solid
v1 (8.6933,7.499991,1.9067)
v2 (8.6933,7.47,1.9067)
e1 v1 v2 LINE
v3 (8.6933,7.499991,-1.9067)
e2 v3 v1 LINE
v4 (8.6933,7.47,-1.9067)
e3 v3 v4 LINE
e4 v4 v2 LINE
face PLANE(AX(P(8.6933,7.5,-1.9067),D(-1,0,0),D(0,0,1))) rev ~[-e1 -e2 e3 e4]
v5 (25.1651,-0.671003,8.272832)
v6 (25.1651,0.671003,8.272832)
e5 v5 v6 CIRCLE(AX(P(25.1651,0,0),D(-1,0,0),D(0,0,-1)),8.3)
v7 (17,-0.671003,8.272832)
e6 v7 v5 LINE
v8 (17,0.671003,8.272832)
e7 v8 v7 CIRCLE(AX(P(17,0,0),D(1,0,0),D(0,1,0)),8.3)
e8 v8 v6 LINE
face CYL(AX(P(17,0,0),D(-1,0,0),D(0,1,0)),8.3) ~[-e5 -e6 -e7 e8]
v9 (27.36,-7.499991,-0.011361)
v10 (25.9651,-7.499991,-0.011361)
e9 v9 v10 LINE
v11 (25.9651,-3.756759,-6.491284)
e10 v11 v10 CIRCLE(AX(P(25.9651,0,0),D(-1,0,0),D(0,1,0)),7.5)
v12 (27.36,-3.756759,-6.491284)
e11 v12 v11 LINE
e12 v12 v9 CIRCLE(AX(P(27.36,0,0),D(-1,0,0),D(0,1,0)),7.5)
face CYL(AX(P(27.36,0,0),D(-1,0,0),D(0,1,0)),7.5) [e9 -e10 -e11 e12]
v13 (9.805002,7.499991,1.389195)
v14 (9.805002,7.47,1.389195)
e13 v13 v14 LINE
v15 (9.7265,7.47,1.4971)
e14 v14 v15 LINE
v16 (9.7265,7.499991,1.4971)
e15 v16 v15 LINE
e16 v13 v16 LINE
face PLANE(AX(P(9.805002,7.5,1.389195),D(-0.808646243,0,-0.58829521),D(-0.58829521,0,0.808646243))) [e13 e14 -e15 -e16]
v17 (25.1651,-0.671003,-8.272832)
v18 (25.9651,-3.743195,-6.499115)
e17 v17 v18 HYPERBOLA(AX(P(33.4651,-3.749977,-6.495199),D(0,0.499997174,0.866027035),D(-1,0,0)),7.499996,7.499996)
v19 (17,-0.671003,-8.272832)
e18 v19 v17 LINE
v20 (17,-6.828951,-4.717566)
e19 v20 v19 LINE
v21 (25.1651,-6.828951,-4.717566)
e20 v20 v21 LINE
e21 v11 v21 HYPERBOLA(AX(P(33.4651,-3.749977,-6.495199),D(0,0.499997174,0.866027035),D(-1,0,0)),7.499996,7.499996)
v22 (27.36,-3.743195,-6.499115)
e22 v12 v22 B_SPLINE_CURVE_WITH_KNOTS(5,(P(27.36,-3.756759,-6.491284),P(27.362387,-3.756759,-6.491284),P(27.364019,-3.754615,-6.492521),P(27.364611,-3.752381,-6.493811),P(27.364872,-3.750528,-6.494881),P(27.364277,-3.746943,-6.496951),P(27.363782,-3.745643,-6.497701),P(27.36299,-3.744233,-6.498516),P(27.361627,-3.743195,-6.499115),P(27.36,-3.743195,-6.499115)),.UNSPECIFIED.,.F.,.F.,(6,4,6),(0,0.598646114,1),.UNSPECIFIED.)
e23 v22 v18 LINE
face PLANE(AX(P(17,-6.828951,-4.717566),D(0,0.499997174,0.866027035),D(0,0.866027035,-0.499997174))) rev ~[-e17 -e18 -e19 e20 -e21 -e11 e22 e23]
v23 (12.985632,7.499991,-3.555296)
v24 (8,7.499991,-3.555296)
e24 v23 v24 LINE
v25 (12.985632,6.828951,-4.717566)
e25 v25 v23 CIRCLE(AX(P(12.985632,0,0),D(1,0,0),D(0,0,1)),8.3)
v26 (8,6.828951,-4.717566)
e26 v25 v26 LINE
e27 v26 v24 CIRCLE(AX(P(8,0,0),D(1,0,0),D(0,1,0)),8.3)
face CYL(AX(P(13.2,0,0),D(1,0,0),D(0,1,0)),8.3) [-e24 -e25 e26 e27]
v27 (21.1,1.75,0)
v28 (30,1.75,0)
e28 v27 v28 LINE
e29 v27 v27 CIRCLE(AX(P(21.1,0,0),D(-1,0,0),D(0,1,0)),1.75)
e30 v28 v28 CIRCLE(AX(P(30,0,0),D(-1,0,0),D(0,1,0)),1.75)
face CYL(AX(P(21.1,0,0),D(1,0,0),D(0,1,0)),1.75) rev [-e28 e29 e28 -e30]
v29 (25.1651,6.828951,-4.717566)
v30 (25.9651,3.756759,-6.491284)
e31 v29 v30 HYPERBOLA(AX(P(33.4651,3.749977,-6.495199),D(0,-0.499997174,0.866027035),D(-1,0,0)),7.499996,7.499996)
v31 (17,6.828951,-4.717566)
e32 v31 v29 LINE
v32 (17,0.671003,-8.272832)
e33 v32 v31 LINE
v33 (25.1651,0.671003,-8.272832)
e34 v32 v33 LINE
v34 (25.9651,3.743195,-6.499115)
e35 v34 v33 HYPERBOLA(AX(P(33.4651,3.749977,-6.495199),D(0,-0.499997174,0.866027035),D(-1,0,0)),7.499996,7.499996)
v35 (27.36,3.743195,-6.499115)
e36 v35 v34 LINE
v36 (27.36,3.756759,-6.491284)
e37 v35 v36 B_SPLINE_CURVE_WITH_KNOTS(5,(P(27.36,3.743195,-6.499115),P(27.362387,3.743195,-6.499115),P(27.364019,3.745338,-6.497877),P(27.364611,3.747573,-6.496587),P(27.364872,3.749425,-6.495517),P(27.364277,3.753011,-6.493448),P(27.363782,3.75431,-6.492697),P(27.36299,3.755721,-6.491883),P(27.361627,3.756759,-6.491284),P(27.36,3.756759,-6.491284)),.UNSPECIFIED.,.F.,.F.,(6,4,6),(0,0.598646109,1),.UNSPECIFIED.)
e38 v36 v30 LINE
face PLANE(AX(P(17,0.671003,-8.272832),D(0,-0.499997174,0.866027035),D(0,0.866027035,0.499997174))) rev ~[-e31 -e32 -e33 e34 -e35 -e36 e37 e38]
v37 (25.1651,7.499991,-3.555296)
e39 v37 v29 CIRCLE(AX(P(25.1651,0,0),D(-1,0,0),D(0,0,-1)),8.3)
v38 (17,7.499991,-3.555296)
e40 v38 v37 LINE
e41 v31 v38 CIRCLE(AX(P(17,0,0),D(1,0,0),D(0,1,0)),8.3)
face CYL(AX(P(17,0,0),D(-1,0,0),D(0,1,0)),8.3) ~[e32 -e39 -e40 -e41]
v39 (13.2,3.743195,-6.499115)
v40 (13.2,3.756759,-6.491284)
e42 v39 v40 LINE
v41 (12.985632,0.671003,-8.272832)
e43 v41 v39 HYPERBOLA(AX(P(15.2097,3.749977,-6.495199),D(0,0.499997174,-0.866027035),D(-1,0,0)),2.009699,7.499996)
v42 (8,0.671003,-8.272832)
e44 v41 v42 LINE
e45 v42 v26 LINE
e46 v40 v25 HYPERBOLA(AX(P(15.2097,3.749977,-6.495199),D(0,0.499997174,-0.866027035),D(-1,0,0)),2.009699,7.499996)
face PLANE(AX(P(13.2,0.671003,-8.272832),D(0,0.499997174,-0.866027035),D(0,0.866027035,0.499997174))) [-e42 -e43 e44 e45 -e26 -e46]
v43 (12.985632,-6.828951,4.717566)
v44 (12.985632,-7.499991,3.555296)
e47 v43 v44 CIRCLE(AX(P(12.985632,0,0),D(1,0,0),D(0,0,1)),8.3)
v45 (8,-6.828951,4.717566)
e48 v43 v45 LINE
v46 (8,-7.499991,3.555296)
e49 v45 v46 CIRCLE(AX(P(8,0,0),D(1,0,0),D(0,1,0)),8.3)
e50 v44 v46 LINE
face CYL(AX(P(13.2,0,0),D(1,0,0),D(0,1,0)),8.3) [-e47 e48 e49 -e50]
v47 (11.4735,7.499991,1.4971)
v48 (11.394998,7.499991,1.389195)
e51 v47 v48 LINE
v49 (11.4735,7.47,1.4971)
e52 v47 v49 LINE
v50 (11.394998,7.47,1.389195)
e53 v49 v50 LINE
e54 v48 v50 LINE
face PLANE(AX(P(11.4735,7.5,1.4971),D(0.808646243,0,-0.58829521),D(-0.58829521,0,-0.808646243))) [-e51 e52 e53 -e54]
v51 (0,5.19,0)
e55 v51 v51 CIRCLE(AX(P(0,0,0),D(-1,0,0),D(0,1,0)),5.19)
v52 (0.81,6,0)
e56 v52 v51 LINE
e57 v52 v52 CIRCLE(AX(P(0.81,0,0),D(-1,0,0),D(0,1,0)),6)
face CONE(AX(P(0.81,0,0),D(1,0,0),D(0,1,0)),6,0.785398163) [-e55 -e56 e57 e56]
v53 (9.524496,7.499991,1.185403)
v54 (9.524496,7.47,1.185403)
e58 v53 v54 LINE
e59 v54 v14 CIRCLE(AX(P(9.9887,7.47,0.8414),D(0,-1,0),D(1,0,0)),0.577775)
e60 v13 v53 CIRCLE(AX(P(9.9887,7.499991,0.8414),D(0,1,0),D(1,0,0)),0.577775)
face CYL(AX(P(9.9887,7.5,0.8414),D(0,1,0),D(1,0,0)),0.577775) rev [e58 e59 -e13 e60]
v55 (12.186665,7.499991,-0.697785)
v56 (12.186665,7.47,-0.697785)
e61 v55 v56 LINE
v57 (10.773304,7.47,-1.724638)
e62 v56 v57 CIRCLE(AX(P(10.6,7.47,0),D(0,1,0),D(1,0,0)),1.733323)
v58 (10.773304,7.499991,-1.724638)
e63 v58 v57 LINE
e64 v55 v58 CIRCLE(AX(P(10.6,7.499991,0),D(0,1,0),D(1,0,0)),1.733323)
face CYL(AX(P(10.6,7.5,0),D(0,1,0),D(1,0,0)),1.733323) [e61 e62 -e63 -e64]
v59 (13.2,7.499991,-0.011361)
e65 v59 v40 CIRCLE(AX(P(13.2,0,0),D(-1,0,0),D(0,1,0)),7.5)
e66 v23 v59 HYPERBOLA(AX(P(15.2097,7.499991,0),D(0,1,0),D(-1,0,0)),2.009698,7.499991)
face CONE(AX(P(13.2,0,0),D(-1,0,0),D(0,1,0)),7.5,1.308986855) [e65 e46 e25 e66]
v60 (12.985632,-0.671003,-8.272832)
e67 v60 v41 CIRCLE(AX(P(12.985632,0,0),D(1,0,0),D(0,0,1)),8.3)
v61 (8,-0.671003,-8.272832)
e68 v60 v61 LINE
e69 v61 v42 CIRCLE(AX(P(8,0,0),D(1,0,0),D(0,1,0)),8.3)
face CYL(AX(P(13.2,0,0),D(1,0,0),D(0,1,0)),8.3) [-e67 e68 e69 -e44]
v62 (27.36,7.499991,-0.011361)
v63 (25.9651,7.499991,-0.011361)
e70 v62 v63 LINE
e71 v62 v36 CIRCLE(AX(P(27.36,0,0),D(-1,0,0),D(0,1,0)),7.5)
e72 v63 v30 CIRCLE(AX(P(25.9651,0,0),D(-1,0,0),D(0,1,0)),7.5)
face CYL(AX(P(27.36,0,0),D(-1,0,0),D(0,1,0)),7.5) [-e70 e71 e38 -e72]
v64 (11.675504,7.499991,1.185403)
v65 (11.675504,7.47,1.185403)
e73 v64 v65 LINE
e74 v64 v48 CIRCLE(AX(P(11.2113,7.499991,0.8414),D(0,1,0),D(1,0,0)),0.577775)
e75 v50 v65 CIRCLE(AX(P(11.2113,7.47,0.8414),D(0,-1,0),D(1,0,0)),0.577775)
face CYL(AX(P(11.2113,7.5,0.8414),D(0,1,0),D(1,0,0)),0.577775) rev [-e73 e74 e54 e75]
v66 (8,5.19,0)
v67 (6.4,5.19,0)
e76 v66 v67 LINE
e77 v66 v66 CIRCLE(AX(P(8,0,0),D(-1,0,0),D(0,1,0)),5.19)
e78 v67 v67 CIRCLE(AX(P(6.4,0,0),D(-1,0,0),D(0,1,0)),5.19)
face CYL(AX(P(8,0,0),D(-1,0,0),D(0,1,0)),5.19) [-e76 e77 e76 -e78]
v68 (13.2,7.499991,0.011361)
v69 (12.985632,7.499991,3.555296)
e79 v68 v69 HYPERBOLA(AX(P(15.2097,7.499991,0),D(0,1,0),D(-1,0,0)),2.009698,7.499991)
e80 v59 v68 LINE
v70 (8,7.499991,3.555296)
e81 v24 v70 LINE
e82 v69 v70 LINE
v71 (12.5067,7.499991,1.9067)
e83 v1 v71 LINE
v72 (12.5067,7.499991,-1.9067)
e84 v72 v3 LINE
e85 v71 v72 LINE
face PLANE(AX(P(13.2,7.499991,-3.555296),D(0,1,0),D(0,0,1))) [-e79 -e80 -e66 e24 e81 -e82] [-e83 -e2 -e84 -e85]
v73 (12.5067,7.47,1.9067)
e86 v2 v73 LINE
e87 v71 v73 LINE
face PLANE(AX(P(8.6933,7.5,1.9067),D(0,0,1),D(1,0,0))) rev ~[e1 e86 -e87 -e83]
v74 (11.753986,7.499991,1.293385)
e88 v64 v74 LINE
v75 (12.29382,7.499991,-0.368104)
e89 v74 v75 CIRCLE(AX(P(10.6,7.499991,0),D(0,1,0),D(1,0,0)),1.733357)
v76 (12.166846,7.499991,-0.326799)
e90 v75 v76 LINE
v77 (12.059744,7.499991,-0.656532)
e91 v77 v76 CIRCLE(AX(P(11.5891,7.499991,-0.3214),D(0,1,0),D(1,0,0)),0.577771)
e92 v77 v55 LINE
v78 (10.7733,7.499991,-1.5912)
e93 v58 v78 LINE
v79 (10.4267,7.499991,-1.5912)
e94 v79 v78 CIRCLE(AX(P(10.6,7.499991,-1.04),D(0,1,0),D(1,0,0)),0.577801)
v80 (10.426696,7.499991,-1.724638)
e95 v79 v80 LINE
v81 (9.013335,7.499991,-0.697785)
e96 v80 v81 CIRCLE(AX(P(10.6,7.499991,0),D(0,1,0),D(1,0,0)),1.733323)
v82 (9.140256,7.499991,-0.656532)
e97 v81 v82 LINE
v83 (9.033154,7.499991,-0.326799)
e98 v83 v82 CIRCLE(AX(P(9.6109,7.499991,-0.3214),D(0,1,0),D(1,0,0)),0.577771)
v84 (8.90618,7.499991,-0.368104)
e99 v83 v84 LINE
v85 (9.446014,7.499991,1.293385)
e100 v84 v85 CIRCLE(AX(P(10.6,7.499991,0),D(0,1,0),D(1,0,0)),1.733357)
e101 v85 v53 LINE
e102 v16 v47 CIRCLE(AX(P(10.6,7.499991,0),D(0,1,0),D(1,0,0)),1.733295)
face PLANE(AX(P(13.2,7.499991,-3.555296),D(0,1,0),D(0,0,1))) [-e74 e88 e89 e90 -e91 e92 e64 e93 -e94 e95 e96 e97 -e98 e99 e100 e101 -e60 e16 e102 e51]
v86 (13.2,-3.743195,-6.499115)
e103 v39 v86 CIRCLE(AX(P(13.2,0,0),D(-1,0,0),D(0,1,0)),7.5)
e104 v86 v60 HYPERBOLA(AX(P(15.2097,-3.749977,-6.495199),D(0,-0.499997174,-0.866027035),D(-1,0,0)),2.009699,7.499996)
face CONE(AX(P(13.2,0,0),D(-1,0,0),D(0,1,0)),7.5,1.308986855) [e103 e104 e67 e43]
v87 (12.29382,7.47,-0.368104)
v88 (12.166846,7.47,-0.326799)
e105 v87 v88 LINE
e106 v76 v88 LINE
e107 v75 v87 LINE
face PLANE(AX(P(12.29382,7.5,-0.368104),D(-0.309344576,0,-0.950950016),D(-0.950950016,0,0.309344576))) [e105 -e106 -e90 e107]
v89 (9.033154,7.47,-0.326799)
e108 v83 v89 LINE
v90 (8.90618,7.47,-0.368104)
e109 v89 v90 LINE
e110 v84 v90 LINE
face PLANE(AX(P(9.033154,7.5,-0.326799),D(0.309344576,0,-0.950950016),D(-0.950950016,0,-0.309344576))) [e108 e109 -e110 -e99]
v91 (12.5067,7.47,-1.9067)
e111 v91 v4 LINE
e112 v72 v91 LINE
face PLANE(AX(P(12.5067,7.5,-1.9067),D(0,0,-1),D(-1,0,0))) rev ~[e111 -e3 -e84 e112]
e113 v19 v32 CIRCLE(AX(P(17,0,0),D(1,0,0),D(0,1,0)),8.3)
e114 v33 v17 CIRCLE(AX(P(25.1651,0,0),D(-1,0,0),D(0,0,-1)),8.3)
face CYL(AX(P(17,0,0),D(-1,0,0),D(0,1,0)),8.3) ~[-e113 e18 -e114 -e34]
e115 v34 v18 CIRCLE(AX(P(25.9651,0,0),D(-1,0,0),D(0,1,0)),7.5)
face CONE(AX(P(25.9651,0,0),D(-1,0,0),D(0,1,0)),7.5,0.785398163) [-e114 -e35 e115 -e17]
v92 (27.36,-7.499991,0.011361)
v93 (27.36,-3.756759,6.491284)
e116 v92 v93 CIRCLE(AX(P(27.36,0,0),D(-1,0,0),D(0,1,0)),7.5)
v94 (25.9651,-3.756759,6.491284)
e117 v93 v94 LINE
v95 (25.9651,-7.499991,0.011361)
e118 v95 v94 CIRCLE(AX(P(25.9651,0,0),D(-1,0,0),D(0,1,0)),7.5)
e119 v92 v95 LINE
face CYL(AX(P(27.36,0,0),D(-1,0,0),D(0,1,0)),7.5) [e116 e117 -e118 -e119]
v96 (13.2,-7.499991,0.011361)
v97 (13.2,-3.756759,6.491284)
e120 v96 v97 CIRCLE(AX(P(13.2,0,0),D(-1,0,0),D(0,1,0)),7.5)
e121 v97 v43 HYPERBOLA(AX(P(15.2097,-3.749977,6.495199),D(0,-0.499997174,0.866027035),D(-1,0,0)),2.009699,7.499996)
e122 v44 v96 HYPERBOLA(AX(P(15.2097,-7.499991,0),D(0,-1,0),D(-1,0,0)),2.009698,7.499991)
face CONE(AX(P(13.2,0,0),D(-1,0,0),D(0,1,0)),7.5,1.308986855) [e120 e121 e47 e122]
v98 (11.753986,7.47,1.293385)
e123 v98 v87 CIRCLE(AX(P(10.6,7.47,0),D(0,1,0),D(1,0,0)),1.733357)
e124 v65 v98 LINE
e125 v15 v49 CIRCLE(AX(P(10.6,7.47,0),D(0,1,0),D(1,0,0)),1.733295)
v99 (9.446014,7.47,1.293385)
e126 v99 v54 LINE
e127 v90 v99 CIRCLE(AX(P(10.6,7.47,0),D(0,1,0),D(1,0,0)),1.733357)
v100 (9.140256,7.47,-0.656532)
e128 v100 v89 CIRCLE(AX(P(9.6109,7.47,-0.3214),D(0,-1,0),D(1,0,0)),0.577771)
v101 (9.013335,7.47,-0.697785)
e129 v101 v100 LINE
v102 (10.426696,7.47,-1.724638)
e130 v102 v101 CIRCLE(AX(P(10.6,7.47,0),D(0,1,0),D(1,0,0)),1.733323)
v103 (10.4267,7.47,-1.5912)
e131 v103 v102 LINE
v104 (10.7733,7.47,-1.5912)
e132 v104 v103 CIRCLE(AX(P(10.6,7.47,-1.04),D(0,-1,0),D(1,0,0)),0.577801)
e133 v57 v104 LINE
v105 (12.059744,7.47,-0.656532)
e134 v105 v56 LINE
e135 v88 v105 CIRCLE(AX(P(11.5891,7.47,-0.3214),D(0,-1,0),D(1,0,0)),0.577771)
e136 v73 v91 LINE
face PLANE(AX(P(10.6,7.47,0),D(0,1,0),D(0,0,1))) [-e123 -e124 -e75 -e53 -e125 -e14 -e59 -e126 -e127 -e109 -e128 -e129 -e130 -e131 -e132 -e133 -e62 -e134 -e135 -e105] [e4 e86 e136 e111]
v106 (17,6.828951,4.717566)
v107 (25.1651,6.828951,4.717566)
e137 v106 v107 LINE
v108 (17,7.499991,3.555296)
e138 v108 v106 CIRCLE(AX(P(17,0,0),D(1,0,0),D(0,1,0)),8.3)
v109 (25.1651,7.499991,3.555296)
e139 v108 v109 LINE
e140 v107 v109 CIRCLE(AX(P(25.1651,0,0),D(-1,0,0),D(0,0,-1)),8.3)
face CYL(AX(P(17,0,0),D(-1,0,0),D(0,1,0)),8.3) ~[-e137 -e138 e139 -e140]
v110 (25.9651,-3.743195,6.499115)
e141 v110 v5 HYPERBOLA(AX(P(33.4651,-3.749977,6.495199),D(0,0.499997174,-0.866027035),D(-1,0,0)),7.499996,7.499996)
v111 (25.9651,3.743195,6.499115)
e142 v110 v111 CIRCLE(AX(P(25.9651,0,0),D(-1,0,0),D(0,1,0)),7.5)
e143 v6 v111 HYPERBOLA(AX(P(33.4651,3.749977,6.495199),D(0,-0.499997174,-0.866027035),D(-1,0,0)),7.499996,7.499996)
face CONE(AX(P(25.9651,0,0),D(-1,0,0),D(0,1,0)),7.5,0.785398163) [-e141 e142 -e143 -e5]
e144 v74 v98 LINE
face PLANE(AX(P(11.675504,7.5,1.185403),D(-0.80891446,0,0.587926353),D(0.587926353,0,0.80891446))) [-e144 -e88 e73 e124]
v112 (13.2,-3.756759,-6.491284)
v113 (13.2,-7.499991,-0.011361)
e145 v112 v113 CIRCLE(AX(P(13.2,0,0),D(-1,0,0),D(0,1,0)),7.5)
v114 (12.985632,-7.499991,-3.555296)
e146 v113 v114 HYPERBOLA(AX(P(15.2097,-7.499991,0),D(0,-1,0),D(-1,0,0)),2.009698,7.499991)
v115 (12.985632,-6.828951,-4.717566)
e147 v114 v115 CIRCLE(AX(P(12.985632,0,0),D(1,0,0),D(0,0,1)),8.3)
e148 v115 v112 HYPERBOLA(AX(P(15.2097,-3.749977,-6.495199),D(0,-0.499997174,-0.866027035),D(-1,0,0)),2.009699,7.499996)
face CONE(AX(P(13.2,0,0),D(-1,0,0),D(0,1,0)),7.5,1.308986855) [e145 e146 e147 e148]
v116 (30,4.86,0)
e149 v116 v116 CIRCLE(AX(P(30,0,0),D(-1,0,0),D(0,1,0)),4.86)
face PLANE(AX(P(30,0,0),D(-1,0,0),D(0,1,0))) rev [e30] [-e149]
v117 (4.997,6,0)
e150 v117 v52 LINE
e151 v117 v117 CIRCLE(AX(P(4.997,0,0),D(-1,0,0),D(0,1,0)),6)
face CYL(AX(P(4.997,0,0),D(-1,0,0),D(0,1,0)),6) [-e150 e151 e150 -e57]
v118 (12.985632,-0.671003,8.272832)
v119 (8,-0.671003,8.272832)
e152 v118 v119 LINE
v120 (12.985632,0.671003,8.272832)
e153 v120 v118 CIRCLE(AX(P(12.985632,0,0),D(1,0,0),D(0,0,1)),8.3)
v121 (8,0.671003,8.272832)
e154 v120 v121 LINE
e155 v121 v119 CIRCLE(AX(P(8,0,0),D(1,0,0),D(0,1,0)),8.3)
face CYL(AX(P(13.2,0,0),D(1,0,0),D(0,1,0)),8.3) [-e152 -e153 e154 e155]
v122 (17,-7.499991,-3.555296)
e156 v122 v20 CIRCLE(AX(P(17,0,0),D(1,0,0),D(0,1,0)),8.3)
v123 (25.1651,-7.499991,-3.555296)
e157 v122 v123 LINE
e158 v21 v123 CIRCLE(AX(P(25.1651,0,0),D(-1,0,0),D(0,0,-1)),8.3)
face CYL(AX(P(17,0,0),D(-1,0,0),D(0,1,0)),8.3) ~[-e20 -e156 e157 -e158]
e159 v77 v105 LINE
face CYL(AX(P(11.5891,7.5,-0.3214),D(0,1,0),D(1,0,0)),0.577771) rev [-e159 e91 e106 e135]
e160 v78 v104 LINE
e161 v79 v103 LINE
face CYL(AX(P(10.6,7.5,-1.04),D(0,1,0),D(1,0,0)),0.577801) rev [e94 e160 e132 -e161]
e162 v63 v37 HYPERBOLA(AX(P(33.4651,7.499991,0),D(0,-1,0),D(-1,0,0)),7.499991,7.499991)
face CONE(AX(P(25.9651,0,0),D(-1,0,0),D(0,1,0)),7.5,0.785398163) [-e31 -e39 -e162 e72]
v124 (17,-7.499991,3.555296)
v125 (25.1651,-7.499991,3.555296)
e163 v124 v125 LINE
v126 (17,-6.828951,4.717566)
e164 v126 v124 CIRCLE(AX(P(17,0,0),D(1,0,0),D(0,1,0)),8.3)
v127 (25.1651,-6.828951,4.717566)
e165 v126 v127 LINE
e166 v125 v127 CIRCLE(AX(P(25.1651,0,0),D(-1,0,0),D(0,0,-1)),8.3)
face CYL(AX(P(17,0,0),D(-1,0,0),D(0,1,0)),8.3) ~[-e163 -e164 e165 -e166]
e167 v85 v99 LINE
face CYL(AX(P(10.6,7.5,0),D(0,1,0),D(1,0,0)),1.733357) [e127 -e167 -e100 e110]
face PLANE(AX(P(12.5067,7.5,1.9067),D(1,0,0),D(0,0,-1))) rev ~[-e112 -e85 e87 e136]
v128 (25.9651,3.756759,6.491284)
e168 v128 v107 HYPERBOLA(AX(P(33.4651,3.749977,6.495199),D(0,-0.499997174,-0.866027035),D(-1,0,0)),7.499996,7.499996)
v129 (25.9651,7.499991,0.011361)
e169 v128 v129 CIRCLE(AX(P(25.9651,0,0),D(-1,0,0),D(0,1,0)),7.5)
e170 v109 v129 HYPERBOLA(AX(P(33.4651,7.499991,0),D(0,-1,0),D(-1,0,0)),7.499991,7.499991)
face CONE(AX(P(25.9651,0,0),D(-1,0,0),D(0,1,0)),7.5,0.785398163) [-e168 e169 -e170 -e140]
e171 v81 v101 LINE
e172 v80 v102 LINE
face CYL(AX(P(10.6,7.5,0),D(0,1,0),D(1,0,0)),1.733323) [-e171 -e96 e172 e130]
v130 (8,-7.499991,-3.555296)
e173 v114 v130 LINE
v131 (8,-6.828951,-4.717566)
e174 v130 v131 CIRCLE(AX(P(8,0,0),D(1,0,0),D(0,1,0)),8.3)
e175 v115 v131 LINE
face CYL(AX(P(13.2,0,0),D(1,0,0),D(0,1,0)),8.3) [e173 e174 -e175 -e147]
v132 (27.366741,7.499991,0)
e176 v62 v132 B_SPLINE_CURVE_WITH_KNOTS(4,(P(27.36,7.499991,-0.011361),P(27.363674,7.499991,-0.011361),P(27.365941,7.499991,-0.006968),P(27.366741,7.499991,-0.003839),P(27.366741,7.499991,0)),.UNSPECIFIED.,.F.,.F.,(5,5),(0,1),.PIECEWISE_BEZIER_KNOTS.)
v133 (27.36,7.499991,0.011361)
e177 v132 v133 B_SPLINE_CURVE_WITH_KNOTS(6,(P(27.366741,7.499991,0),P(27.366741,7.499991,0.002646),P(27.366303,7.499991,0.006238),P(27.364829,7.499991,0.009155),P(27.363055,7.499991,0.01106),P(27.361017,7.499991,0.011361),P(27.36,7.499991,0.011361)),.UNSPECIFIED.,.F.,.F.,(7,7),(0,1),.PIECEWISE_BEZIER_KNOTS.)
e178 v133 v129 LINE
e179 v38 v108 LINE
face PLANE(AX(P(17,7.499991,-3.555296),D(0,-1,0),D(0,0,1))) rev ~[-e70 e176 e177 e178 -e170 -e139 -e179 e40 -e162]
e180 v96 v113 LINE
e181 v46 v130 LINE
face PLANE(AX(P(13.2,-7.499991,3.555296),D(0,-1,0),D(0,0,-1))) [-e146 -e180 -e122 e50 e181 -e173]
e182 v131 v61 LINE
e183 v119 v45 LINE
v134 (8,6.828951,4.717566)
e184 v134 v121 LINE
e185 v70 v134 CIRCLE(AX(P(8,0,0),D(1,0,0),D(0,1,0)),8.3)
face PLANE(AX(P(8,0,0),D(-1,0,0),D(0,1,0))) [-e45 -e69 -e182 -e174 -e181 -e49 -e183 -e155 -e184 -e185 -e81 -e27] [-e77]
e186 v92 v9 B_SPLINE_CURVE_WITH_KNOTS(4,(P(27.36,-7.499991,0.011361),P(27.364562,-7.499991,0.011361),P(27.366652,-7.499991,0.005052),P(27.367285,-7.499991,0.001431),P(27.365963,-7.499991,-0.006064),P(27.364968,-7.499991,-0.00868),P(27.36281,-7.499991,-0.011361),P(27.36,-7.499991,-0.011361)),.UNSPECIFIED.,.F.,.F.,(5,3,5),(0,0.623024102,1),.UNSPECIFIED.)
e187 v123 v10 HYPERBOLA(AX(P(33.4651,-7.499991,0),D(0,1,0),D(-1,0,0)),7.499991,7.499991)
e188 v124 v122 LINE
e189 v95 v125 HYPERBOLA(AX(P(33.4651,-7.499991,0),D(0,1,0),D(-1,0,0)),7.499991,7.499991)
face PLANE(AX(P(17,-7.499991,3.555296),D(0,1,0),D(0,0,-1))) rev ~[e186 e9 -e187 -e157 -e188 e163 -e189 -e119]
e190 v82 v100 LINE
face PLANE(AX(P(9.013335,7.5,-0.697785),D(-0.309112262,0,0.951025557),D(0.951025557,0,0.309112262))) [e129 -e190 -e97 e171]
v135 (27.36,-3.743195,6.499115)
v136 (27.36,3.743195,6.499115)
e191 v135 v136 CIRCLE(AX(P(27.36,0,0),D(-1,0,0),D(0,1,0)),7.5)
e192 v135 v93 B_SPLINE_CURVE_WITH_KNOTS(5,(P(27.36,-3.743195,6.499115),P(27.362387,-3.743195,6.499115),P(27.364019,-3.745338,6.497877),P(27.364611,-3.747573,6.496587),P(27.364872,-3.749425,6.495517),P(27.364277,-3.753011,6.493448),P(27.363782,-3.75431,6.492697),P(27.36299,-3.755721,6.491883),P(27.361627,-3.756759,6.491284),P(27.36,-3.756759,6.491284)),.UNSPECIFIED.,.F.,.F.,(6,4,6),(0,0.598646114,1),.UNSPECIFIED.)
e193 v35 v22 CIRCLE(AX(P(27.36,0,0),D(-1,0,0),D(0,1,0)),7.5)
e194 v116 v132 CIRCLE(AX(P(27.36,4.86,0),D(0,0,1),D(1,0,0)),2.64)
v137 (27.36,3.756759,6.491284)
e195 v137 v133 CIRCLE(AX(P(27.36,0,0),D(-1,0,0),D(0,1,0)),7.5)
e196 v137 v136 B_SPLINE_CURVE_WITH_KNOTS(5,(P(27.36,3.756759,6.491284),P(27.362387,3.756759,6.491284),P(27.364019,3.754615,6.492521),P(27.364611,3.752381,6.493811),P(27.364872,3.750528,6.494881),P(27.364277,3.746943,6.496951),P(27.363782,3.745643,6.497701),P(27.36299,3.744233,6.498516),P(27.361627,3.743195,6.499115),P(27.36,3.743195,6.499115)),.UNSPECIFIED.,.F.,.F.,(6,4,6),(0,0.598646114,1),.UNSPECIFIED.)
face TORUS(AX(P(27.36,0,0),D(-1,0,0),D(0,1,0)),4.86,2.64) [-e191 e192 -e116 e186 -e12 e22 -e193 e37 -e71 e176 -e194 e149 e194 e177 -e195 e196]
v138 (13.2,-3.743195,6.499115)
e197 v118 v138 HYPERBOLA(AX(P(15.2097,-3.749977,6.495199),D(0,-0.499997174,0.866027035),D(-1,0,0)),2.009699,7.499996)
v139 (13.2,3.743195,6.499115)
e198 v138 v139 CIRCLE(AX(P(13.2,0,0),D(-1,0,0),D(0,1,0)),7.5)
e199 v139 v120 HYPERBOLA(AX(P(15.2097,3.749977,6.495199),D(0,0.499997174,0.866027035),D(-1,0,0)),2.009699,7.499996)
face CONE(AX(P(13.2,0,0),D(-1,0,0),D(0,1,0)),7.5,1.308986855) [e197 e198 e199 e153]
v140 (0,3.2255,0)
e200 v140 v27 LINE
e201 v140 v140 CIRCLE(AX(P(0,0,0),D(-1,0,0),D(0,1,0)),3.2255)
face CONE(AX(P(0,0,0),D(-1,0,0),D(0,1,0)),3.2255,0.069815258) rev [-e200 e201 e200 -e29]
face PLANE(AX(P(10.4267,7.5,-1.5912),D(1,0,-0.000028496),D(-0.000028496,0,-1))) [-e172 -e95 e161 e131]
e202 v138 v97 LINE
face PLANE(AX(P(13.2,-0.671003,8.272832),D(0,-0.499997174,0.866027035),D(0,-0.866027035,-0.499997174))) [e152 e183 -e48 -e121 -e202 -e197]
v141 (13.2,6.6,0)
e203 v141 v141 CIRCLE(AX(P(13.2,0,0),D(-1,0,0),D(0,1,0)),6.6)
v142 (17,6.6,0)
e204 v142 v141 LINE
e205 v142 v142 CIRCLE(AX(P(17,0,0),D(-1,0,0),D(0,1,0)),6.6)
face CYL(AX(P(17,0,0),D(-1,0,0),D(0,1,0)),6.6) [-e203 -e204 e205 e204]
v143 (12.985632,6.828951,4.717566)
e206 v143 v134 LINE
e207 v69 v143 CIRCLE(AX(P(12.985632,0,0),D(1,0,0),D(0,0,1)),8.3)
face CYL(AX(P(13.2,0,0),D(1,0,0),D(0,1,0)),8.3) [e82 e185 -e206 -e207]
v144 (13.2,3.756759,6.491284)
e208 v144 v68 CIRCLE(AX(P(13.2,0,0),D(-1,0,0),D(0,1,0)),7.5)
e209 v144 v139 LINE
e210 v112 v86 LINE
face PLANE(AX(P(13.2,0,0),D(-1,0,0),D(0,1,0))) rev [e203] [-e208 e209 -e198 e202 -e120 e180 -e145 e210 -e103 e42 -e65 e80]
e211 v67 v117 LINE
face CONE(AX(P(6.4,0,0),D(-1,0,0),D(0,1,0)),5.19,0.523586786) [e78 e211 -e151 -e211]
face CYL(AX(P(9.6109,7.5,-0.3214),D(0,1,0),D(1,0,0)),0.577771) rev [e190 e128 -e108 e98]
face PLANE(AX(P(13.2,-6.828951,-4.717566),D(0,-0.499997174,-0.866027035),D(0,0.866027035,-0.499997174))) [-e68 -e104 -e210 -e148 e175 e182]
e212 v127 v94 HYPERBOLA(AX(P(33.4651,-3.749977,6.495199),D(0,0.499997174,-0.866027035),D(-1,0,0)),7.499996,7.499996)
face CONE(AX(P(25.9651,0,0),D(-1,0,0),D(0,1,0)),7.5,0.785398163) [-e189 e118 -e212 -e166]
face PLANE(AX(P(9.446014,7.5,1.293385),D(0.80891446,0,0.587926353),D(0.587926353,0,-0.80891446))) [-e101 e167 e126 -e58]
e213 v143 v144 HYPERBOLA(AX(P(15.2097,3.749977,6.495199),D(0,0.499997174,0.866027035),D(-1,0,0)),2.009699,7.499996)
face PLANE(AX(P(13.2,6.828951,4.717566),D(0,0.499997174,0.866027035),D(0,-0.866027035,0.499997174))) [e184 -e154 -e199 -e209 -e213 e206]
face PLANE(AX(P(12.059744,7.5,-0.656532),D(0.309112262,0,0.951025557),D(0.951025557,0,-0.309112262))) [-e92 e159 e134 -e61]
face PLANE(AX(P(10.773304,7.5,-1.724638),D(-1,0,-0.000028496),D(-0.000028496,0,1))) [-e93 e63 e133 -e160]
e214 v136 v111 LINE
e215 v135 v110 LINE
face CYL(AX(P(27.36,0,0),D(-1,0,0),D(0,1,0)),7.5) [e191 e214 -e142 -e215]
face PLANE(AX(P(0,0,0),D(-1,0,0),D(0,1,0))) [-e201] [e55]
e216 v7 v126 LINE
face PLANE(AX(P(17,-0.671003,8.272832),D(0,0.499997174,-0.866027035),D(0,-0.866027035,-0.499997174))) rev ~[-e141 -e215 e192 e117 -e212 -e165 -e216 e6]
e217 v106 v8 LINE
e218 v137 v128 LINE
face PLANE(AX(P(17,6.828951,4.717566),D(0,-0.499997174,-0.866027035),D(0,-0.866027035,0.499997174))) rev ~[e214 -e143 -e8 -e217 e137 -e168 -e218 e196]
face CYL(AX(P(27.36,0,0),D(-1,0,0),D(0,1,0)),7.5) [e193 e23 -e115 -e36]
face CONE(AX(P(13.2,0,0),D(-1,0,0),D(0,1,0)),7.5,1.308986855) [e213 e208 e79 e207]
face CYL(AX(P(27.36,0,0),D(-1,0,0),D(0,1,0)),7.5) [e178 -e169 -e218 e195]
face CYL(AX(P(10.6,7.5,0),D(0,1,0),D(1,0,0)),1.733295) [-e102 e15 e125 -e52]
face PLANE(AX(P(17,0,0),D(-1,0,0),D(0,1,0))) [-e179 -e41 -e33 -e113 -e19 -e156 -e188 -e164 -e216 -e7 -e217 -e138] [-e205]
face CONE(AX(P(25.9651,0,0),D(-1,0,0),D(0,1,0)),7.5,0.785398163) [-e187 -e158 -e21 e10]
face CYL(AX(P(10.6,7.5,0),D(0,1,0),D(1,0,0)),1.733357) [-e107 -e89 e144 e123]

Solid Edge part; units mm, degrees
sketch "Sketch1" plane through (0, 0, 0) normal (0, 0, 1) x (1, 0, 0)
  line L0 (0, 5.19) -> (0, 3.2255)
  line L1 (0, 3.2255) -> (21.1, 1.75)
  line L2 (21.1, 1.75) -> (30, 1.75)
  line L3 (30, 1.75) -> (30, 4.86)
  arc A0 (30, 4.86) -> (27.36, 7.5) centre (27.36, 4.86) ccw
  line L4 (27.36, 7.5) -> (25.9651, 7.5)
  line L5 (25.9651, 7.5) -> (22.15, 11.3151)
  line L6 (22.15, 11.3151) -> (17, 11.3151)
  line L7 (17, 11.3151) -> (17, 6.6)
  line L8 (17, 6.6) -> (13.2, 6.6)
  line L9 (13.2, 6.6) -> (13.2, 7.5)
  line L10 (13.2, 7.5) -> (12.5301, 10)
  line L11 (12.5301, 10) -> (8, 10)
  line L12 (8, 10) -> (8, 5.19)
  line L13 (8, 5.19) -> (6.4, 5.19)
  line L14 (6.4, 5.19) -> (4.997, 6)
  line L15 (4.997, 6) -> (0.81, 6)
  line L16 (0.81, 6) -> (0, 5.19)
revolve "RevolvedProtrusion1" add sketch "Sketch1" angle 360 about axis through (30, 0, 0) along (-1, 0, 0)
sketch "Sketch2" plane through (13.2, 0, 0) normal (1, 0, 0) x (0, 1, 0)
  line L0 (15, 15) -> (-15, 15)
  line L1 (-15, 15) -> (-15, -15)
  line L2 (-15, -15) -> (15, -15)
  line L3 (15, -15) -> (15, 15)
  arc A0 (0.671, 8.2728) -> (-0.671, 8.2728) centre (0, 0) ccw
  line L4 (-0.671, 8.2728) -> (-6.829, 4.7176)
  arc A1 (-6.829, 4.7176) -> (-7.5, 3.5553) centre (0, 0) ccw
  line L5 (-7.5, 3.5553) -> (-7.5, -3.5553)
  arc A2 (-7.5, -3.5553) -> (-6.829, -4.7176) centre (0, 0) ccw
  line L6 (-6.829, -4.7176) -> (-0.671, -8.2728)
  arc A3 (-0.671, -8.2728) -> (0.671, -8.2728) centre (0, 0) ccw
  line L7 (0.671, -8.2728) -> (6.829, -4.7176)
  arc A4 (6.829, -4.7176) -> (7.5, -3.5553) centre (0, 0) ccw
  line L8 (7.5, -3.5553) -> (7.5, 3.5553)
  arc A5 (7.5, 3.5553) -> (6.829, 4.7176) centre (0, 0) ccw
  line L9 (6.829, 4.7176) -> (0.671, 8.2728)
extrude "ExtrudedCutout_1" cut sketch "Sketch2" against normal blind 5.2
sketch "Sketch3" plane through (17, 0, 0) normal (1, 0, 0) x (0, 1, 0)
  line L0 (15, 15) -> (-15, 15)
  line L1 (-15, 15) -> (-15, -15)
  line L2 (-15, -15) -> (15, -15)
  line L3 (15, -15) -> (15, 15)
  arc A0 (0.671, 8.2728) -> (-0.671, 8.2728) centre (0, 0) ccw
  line L4 (-0.671, 8.2728) -> (-6.829, 4.7176)
  arc A1 (-6.829, 4.7176) -> (-7.5, 3.5553) centre (0, 0) ccw
  line L5 (-7.5, 3.5553) -> (-7.5, -3.5553)
  arc A2 (-7.5, -3.5553) -> (-6.829, -4.7176) centre (0, 0) ccw
  line L6 (-6.829, -4.7176) -> (-0.671, -8.2728)
  arc A3 (-0.671, -8.2728) -> (0.671, -8.2728) centre (0, 0) ccw
  line L7 (0.671, -8.2728) -> (6.829, -4.7176)
  arc A4 (6.829, -4.7176) -> (7.5, -3.5553) centre (0, 0) ccw
  line L8 (7.5, -3.5553) -> (7.5, 3.5553)
  arc A5 (7.5, 3.5553) -> (6.829, 4.7176) centre (0, 0) ccw
  line L9 (6.829, 4.7176) -> (0.671, 8.2728)
extrude "ExtrudedCutout_2" cut sketch "Sketch3" along normal blind 30
sketch "Sketch4" plane through (0, 7.5, 0) normal (0, -1, 0) x (1, 0, 0)
  line L0 (8.6933, -1.9067) -> (8.6933, 1.9067)
  line L1 (8.6933, 1.9067) -> (12.5067, 1.9067)
  line L2 (12.5067, 1.9067) -> (12.5067, -1.9067)
  line L3 (12.5067, -1.9067) -> (8.6933, -1.9067)
  arc A0 (8.9062, -0.3681) -> (9.446, 1.2934) centre (10.6, 0) cw
  line L4 (9.446, 1.2934) -> (9.5245, 1.1854)
  arc A1 (9.5245, 1.1854) -> (9.805, 1.3892) centre (9.9887, 0.8414) ccw
  line L5 (9.805, 1.3892) -> (9.7265, 1.4971)
  arc A2 (9.7265, 1.4971) -> (11.4735, 1.4971) centre (10.6, 0) cw
  line L6 (11.4735, 1.4971) -> (11.395, 1.3892)
  arc A3 (11.395, 1.3892) -> (11.6755, 1.1854) centre (11.2113, 0.8414) ccw
  line L7 (11.6755, 1.1854) -> (11.754, 1.2934)
  arc A4 (11.754, 1.2934) -> (12.2938, -0.3681) centre (10.6, 0) cw
  line L8 (12.2938, -0.3681) -> (12.1669, -0.3268)
  arc A5 (12.1669, -0.3268) -> (12.0597, -0.6565) centre (11.5891, -0.3214) ccw
  line L9 (12.0597, -0.6565) -> (12.1867, -0.6978)
  arc A6 (12.1867, -0.6978) -> (10.7733, -1.7246) centre (10.6, 0) cw
  line L10 (10.7733, -1.7246) -> (10.7733, -1.5912)
  arc A7 (10.7733, -1.5912) -> (10.4267, -1.5912) centre (10.6, -1.04) ccw
  line L11 (10.4267, -1.5912) -> (10.4267, -1.7246)
  arc A8 (10.4267, -1.7246) -> (9.0133, -0.6978) centre (10.6, 0) cw
  line L12 (9.0133, -0.6978) -> (9.1403, -0.6565)
  arc A9 (9.1403, -0.6565) -> (9.0331, -0.3268) centre (9.6109, -0.3214) ccw
  line L13 (9.0331, -0.3268) -> (8.9062, -0.3681)
extrude "ExtrudedCutout_3" cut sketch "Sketch4" along normal blind 0.03
properties part number "SKINTOP ST-M 12x1,5      Art. Nr. 53111000(F=3.5)"
